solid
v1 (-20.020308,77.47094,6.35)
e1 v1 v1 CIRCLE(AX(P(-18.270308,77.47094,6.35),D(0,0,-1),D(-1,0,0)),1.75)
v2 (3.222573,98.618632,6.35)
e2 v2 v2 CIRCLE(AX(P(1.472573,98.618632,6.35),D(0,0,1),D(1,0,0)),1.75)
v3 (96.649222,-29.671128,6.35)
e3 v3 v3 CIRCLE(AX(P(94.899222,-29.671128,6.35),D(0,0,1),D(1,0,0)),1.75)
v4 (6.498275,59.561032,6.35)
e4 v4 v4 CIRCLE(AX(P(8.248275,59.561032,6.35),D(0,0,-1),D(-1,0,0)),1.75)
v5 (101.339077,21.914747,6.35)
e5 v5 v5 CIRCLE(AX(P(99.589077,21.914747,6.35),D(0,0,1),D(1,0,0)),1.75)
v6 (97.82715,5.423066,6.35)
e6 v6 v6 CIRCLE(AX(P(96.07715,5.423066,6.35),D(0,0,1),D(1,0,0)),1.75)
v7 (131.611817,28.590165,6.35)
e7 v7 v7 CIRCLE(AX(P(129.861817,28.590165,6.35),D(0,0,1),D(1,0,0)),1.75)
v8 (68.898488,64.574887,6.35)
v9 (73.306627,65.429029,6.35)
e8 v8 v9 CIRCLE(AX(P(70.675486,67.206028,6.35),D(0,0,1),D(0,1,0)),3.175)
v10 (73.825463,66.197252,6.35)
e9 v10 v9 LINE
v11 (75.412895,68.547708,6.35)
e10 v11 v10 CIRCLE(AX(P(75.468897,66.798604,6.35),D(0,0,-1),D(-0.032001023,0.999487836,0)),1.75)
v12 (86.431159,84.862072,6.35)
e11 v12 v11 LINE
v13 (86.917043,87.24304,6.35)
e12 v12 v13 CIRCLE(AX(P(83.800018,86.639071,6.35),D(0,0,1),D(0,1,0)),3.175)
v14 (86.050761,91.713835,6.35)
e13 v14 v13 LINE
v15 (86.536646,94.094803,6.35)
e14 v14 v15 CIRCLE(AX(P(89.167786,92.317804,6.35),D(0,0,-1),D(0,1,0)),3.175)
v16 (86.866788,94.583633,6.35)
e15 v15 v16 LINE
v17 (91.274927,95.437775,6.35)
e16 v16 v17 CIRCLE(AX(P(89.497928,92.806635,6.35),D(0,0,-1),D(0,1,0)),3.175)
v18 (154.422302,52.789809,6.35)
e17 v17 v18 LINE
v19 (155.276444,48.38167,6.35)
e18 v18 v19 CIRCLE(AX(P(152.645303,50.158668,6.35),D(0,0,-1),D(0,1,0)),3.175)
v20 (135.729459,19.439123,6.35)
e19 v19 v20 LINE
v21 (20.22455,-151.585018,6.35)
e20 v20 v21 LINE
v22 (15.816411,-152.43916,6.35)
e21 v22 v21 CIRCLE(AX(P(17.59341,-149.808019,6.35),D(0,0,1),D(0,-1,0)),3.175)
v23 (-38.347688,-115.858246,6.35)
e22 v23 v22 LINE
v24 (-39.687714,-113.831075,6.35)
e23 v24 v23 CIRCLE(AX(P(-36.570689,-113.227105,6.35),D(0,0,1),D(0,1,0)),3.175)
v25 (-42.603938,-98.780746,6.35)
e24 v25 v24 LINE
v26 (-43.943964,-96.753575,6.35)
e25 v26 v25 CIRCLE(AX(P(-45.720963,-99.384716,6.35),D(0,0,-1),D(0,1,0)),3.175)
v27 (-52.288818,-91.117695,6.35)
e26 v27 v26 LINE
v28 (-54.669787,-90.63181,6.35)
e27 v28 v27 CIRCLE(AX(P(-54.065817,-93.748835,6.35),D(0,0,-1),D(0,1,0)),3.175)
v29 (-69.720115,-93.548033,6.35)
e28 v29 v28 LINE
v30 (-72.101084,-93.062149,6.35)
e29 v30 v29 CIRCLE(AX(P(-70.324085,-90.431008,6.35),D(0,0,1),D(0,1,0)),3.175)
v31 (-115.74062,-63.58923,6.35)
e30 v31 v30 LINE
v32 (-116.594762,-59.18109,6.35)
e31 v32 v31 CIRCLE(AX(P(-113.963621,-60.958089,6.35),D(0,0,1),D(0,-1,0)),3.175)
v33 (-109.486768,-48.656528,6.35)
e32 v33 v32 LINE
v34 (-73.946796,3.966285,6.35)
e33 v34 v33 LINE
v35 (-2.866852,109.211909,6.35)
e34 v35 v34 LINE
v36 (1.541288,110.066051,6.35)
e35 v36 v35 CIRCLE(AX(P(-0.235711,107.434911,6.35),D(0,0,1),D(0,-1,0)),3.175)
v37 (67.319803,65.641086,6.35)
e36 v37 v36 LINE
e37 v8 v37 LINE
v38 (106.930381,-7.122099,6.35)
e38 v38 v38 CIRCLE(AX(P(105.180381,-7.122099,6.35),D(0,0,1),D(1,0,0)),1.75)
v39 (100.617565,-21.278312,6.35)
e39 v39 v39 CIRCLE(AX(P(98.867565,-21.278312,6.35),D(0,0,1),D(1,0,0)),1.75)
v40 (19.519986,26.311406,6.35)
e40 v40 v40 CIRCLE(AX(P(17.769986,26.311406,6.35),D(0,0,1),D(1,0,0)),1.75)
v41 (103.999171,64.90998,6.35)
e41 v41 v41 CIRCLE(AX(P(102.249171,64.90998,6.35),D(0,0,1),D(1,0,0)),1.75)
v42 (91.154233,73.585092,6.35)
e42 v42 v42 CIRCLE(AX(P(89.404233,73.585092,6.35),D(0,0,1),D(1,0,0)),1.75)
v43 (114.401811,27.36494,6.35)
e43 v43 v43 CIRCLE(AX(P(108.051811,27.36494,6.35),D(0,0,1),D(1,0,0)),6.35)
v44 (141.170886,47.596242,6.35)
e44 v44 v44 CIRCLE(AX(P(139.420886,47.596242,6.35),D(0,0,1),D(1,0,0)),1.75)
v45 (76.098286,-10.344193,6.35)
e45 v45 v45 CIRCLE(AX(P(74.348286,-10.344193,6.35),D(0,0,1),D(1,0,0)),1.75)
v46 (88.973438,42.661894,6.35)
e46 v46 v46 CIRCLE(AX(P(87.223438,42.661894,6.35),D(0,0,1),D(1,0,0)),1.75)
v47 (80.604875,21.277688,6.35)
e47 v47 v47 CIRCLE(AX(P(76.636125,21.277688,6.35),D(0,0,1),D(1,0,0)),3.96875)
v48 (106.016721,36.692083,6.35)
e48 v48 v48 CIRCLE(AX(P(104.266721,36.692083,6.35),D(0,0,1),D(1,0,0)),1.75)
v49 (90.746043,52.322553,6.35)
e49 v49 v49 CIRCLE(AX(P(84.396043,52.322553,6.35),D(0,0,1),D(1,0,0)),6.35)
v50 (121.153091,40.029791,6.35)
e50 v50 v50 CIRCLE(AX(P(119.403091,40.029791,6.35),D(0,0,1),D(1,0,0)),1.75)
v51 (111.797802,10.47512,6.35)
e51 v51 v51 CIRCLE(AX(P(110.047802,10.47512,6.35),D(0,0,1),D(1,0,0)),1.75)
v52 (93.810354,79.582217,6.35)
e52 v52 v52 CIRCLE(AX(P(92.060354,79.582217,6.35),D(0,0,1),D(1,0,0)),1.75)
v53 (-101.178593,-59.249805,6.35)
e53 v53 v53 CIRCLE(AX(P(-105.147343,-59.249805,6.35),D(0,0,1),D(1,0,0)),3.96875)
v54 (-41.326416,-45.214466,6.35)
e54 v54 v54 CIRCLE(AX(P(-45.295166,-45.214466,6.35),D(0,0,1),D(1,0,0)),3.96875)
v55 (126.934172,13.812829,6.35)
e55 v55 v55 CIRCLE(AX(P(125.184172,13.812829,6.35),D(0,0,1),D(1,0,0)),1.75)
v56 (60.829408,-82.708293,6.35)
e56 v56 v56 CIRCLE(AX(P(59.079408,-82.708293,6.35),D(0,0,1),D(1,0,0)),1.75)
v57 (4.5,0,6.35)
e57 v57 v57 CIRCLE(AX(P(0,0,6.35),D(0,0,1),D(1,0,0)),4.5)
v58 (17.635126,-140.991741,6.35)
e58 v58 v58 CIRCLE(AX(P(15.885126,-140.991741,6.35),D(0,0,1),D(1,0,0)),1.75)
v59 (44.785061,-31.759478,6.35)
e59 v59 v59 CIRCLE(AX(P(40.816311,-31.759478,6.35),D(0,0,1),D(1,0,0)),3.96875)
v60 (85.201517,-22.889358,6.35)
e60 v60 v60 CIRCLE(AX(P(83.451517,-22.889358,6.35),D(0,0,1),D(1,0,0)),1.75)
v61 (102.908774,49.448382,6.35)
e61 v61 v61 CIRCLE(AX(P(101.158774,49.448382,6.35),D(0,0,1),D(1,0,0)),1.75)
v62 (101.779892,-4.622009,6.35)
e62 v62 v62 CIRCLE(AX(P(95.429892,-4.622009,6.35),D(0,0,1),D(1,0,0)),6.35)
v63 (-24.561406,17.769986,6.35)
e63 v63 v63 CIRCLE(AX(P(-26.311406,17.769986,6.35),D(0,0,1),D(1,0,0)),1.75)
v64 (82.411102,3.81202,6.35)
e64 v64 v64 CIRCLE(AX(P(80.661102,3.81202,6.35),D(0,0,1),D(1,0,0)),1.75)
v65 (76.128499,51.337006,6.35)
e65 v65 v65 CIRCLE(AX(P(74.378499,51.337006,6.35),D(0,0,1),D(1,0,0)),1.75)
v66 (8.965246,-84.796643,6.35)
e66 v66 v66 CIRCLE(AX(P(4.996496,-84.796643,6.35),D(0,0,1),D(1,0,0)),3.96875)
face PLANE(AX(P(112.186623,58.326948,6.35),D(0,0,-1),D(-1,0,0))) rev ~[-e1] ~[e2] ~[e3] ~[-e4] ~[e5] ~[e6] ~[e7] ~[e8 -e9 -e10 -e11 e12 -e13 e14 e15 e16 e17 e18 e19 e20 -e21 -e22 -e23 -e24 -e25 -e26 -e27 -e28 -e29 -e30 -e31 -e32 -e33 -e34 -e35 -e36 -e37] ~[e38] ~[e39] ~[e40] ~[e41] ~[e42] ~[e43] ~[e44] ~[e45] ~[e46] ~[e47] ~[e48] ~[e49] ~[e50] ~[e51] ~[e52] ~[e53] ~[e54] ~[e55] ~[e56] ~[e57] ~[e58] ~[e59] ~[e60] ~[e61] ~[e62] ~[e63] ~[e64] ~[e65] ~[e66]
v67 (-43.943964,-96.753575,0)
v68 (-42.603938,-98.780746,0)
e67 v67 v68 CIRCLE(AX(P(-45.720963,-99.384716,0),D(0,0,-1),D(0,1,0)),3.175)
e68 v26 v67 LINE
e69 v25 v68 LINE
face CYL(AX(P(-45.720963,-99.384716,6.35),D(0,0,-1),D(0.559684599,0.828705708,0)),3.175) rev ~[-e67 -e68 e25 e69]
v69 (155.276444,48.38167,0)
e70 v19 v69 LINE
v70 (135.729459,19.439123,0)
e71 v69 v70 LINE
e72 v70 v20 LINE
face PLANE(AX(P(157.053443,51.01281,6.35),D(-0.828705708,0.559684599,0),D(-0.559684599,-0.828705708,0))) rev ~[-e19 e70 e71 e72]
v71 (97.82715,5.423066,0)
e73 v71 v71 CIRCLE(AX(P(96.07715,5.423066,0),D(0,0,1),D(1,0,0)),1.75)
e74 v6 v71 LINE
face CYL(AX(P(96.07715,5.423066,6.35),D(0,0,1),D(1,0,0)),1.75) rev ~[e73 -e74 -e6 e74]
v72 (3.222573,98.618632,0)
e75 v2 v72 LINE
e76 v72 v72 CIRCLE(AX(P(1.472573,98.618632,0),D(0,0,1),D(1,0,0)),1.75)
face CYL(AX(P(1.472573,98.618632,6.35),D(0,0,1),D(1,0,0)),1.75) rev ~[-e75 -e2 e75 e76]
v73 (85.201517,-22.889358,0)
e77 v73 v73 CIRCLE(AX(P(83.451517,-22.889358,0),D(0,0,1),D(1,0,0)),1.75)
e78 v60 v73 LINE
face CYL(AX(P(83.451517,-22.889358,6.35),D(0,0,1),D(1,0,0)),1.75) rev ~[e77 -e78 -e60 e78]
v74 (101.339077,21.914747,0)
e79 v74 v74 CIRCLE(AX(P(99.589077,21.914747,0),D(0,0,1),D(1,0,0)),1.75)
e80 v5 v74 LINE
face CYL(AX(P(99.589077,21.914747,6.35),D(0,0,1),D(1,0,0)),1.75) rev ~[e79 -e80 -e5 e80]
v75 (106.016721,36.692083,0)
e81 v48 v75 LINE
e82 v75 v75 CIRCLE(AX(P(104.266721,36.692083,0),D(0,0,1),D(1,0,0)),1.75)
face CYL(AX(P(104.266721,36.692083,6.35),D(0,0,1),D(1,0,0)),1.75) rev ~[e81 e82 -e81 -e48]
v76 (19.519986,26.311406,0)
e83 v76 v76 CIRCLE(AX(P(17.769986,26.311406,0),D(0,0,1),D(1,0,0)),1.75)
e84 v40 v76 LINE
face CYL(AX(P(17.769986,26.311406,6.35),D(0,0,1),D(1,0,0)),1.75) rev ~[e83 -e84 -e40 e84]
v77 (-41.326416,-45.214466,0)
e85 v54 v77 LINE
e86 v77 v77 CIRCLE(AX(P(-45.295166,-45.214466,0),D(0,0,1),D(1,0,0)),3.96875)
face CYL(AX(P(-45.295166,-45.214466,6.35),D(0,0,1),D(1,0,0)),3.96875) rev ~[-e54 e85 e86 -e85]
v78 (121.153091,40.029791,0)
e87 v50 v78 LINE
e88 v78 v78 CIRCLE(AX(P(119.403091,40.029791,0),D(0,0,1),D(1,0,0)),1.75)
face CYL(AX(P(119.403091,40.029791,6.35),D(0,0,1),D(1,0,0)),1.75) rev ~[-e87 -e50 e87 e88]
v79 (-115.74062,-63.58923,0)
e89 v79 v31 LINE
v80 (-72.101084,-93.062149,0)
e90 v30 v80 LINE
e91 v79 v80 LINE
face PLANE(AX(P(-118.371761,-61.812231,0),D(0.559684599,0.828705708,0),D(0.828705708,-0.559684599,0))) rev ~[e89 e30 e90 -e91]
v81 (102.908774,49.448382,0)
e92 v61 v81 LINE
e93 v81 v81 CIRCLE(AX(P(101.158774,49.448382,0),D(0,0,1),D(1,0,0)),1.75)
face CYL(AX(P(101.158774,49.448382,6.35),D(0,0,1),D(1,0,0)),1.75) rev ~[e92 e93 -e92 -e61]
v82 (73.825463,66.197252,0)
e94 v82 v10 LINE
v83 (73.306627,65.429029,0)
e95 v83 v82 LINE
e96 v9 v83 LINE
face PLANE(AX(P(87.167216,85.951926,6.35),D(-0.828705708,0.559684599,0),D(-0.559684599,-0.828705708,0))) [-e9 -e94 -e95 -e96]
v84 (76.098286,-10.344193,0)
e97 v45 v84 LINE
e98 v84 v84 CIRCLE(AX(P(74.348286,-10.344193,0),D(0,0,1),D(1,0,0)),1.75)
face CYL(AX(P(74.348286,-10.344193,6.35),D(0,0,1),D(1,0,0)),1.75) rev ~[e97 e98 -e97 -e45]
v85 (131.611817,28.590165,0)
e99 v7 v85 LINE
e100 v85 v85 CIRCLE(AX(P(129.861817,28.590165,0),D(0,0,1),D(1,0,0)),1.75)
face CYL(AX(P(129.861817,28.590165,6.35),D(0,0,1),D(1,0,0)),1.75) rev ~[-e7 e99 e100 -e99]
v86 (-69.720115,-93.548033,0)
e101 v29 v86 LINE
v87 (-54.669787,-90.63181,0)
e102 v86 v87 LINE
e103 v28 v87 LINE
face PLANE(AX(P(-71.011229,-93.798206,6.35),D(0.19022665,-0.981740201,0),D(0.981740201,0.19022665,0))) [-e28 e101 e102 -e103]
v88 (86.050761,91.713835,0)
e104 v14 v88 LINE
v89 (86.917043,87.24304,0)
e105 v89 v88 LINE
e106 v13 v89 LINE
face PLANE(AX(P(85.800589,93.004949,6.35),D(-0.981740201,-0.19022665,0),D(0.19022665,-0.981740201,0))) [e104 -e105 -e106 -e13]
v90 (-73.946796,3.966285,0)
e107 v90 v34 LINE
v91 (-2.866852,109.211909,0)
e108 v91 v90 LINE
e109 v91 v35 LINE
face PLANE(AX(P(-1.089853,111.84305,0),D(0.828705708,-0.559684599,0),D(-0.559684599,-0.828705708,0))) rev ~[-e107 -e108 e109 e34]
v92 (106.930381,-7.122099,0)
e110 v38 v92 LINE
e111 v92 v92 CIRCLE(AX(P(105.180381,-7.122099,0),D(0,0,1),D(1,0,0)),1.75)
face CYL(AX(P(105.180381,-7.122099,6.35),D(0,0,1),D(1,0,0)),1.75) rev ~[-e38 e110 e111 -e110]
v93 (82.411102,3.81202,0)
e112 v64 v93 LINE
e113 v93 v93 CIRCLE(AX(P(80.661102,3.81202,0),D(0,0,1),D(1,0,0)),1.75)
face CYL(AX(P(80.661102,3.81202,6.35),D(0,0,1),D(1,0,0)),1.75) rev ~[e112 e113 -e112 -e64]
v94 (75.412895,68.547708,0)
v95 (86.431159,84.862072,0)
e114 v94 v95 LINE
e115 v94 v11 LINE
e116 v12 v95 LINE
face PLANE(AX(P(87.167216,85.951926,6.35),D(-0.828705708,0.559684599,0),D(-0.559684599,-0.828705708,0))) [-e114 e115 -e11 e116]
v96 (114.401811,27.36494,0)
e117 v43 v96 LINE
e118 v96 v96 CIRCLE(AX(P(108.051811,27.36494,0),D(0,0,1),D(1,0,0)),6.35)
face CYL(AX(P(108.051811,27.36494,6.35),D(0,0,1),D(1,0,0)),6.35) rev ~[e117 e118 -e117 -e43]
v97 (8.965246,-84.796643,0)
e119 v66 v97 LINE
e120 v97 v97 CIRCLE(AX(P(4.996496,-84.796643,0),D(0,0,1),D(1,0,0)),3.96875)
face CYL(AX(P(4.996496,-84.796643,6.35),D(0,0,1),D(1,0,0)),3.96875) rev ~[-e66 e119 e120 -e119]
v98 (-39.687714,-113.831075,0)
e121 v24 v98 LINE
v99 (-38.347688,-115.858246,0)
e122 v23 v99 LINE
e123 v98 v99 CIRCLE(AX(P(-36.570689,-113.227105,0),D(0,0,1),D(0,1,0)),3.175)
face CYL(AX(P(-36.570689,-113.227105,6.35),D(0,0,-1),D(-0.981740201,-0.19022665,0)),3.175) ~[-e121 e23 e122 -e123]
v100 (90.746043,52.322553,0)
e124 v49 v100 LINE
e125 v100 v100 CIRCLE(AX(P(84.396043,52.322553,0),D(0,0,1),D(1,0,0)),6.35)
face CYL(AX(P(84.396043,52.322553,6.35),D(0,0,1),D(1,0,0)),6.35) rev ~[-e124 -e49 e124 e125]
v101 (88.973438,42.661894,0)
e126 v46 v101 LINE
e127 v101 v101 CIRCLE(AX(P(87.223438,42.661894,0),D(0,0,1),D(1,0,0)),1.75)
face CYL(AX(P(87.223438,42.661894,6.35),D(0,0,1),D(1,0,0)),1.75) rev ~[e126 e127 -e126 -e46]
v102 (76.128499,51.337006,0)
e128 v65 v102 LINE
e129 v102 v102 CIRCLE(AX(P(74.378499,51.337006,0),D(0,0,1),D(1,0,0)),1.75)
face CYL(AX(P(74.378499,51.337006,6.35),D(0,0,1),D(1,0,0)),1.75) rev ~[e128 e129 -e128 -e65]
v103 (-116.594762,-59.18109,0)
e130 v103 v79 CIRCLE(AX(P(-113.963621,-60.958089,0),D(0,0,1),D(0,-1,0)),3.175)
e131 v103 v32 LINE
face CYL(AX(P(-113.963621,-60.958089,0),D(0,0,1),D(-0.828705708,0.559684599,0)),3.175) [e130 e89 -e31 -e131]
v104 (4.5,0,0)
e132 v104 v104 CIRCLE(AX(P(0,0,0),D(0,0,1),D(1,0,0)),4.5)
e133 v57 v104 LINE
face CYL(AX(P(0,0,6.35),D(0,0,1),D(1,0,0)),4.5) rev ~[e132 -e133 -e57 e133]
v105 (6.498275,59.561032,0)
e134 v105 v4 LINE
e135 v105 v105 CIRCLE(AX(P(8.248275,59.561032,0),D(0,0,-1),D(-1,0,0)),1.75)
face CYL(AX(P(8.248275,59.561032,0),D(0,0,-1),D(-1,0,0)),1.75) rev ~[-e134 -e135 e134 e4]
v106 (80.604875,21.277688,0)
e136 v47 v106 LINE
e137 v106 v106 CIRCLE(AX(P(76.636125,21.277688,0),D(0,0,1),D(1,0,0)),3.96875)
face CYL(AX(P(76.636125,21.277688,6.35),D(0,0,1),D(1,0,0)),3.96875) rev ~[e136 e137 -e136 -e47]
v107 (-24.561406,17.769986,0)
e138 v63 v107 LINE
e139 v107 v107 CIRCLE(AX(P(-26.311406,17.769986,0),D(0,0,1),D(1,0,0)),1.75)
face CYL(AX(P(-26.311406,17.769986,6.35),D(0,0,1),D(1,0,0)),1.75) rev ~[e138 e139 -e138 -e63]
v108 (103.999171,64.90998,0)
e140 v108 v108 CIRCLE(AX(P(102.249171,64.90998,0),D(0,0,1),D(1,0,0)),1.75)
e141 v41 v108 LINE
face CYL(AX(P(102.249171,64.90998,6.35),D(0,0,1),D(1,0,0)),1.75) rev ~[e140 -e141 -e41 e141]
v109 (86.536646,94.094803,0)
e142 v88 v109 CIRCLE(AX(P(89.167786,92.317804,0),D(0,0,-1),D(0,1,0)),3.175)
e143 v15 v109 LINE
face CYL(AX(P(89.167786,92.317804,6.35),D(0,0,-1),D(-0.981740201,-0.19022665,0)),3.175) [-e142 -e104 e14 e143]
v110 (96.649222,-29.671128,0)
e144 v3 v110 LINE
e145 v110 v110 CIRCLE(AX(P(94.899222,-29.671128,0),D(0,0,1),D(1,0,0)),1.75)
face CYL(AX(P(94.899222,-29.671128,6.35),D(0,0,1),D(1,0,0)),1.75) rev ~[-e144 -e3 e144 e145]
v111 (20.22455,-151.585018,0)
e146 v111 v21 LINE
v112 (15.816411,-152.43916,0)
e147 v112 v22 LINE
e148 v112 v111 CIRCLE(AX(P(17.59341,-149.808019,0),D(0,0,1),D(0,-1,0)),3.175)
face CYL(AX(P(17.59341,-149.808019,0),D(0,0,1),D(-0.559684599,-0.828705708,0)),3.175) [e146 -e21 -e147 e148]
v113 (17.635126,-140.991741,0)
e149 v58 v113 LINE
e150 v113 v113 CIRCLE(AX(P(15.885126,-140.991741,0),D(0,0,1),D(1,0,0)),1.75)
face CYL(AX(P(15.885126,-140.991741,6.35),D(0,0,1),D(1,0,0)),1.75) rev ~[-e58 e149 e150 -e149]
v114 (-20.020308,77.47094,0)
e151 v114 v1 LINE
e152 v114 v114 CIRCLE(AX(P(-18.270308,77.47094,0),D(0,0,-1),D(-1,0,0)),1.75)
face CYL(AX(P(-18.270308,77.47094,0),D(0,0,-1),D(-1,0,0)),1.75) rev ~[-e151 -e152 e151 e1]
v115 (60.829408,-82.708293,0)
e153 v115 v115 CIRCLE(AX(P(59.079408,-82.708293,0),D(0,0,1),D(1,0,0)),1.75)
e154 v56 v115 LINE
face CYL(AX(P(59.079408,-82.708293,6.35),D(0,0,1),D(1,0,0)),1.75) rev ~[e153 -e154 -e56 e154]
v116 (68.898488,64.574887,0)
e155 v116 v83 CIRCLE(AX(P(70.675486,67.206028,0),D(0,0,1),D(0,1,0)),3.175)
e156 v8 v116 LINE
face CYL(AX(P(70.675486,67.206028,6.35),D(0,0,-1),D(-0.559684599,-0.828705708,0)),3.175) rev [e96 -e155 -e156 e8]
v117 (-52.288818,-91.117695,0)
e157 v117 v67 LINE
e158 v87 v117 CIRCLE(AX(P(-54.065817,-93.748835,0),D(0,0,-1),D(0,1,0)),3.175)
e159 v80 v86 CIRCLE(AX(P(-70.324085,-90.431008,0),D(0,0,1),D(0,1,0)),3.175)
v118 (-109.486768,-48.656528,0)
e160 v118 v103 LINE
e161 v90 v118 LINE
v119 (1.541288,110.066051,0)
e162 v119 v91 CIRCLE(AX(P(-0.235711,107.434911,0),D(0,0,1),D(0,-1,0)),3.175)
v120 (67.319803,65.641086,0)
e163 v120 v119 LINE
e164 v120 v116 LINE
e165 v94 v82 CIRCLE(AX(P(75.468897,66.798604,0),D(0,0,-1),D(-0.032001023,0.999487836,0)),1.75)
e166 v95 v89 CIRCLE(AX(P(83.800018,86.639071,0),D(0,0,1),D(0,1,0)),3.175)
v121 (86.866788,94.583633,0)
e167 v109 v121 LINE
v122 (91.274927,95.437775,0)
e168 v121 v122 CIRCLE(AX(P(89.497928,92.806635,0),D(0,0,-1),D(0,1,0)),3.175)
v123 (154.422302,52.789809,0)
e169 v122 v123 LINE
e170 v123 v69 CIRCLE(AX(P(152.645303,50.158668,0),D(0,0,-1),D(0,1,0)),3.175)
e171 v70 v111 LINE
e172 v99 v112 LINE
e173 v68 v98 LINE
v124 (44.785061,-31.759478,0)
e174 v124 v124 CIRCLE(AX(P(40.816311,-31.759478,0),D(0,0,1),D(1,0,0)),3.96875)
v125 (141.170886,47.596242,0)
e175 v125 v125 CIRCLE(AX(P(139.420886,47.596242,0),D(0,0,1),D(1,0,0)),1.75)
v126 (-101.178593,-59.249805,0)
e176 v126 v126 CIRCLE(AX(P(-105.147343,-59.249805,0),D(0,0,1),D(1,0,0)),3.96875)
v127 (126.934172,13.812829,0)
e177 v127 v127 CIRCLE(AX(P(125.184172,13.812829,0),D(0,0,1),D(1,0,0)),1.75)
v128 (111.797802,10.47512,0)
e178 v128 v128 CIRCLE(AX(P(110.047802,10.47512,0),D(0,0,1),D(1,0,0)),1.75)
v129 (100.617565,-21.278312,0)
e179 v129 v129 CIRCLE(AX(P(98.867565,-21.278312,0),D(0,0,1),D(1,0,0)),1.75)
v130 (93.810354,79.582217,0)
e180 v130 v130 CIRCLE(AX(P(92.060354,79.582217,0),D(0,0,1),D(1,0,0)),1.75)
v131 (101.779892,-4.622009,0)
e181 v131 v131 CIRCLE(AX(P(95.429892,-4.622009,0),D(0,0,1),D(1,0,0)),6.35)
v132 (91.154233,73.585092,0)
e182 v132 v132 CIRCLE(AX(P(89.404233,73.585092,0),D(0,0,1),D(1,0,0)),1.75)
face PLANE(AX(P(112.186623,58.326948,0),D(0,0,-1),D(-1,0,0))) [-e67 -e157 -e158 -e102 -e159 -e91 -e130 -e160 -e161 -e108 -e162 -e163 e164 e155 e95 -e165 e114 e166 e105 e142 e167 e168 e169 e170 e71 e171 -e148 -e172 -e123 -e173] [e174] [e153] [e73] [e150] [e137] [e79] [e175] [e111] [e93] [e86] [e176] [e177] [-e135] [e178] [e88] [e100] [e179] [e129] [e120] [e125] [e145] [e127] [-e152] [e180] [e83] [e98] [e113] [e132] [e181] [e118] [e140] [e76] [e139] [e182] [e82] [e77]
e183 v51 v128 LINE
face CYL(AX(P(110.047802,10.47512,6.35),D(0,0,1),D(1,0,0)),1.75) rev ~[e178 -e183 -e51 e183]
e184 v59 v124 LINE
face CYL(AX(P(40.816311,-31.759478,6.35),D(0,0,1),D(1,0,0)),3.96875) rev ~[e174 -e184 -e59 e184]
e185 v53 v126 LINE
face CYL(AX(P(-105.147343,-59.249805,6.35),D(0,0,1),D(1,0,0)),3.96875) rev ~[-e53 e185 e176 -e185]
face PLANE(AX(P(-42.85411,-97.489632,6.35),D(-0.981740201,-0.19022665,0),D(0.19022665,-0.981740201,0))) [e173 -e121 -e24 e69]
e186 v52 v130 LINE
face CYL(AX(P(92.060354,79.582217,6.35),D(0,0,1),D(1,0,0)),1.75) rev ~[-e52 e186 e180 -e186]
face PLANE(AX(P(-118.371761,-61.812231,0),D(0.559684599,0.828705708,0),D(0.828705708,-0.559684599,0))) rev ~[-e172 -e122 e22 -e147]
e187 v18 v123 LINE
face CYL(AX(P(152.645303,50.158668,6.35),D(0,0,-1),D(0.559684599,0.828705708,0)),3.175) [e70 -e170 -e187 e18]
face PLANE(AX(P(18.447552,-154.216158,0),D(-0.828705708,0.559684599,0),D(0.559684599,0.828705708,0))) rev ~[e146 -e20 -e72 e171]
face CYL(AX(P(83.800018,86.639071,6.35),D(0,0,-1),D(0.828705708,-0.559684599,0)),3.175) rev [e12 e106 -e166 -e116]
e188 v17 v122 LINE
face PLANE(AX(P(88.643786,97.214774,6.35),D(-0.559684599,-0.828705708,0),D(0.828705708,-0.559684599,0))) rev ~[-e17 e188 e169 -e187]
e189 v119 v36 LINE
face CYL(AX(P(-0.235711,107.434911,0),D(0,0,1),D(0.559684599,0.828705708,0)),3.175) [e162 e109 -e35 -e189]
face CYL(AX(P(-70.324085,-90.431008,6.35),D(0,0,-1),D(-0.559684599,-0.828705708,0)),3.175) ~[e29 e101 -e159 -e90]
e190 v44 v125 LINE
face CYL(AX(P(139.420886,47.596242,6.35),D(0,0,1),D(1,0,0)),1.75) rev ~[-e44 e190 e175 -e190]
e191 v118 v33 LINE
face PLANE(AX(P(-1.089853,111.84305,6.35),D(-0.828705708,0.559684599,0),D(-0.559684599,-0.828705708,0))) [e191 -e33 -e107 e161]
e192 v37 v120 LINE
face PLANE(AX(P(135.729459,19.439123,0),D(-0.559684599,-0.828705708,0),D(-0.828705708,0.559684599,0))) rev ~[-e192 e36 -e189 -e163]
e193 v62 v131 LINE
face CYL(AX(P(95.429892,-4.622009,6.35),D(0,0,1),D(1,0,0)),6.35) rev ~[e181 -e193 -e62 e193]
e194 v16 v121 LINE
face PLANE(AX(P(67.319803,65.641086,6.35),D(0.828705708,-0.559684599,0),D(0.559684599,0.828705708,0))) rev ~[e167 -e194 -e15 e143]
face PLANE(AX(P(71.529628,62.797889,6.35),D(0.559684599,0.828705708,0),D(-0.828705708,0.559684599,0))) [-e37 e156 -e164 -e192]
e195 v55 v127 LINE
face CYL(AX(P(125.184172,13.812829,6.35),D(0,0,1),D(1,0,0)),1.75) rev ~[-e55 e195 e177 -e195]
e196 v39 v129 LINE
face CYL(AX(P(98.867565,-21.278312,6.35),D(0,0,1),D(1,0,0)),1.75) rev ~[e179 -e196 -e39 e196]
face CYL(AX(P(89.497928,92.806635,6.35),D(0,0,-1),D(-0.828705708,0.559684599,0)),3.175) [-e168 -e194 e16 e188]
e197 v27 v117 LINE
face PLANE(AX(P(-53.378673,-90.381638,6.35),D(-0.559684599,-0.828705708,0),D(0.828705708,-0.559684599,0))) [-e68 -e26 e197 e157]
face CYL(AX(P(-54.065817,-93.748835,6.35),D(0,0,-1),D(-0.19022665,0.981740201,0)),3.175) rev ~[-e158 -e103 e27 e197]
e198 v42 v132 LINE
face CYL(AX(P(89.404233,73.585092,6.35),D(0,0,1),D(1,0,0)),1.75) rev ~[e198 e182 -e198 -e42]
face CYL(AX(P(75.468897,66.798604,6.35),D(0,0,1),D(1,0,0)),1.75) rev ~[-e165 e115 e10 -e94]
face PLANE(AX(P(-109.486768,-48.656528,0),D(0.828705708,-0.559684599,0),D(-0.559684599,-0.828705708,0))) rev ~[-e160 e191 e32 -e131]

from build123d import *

# Parameters (mm, degrees)
BOSS_EXTRUDE2_DEPTH = 6.35
CUT_EXTRUDE1_DEPTH  = 7.3500001
BOSS_EXTRUDE3_DEPTH = 6.35
SKETCH10_R          = 3.96875
CUT_EXTRUDE2_DEPTH  = 7.35
SKETCH11_R          = 4.5
CUT_EXTRUDE4_DEPTH  = 7.35
BOSS_EXTRUDE4_DEPTH = 6.35
SKETCH13_R          = 1.75
CUT_EXTRUDE5_DEPTH  = 7.35
LPATTERN1_COUNT     = 2
LPATTERN1_PITCH     = 64
SKETCH15_R          = 1.75
CUT_EXTRUDE7_DEPTH  = 7.35
SKETCH16_R          = 1.75
CUT_EXTRUDE8_DEPTH  = 7.35
SKETCH17_R          = 1.75
CUT_EXTRUDE9_DEPTH  = 7.35
SKETCH18_R          = 1.75
SKETCH18_R_2        = 6.35
CUT_EXTRUDE10_DEPTH = 7.35
SKETCH19_R          = 3.96875
CUT_EXTRUDE11_DEPTH = 7.35
SKETCH20_R          = 3.96875
CUT_EXTRUDE12_DEPTH = 7.35
SKETCH21_R          = 5.677654576
BOSS_EXTRUDE5_DEPTH = 6.35
CUT_EXTRUDE13_DEPTH = 7.35
SKETCH23_R          = 1.75
CUT_EXTRUDE14_DEPTH = 7.35
FILLET1_R           = 3.175


with BuildPart() as part:
    # Sketch6 → Boss-Extrude2 (new body)
    with BuildSketch(Plane.XY):
        with BuildLine():
            Line((-68.006850091, -76.67090114), (-109.486767671, -48.656527855))
            Line((-109.486767671, -48.656527855), (-118.371760678, -61.812230963))
            Line((-118.371760678, -61.812230963), (18.447551645, -154.216158235))
            Line((18.447551645, -154.216158235), (135.729459338, 19.43912279))
            Line((135.729459338, 19.43912279), (-1.089852986, 111.843050063))
            Line((-1.089852986, 111.843050063), (-73.946795643, 3.966284577))
            Line((-73.946795643, 3.966284577), (-56.624438948, -7.732749433))
            ThreePointArc((-56.624438948, -7.732749433), (-43.058385537, 37.577891571), (0, 57.15))
            ThreePointArc((0, 57.15), (56.404848571, 31.095576642), (70.829334649, -29.338471048))
            add(Edge.make_bspline(
                [(70.829334649, -29.338471048), (70.811686062, -29.418295928), (70.776015112, -29.578104383), (70.713320217, -29.85478305), (70.619021771, -30.262929245), (70.501052001, -30.762086912), (70.364034474, -31.322191481), (70.199318515, -31.970958926), (70.000453855, -32.723919765), (69.795103485, -33.469783355), (69.582015398, -34.214296028), (69.361377803, -34.956693289), (69.133257682, -35.696762218), (68.838782679, -36.61892651), (68.470566207, -37.720710028), (68.019498024, -38.998776477), (67.474836154, -40.448808619), (66.901337925, -41.887676852), (66.299328392, -43.31485223), (65.669141732, -44.729810424), (65.011119088, -46.132040323), (64.325609411, -47.52103904), (63.612968547, -48.896314904), (62.87355937, -50.257385735), (62.107751613, -51.603779381), (61.315921169, -52.935034173), (60.49845004, -54.250698756), (59.655726138, -55.550331897), (58.571247582, -57.154294757), (57.220953058, -59.045283389), (55.576035723, -61.200397094), (53.604026134, -63.590264702), (51.54329346, -65.904053004), (49.39728314, -68.138962994), (47.169496434, -70.29235602), (44.863486103, -72.361752995), (42.482847363, -74.344831806), (40.031215607, -76.239428526), (36.882516177, -78.494556171), (32.976808929, -81.016011003), (28.250788286, -83.68089187), (21.41551215, -86.919136497), (14.30829026, -89.526654921), (6.996956895, -91.488176442), (-0.451922312, -92.797413176), (-6.61686174, -93.456358442), (-12.81195397, -93.702029749), (-19.009644204, -93.537285056), (-25.183124422, -92.966685286), (-31.306438312, -91.996382122), (-36.598524037, -90.804323442), (-41.072542301, -89.543185606), (-44.752319298, -88.33589156), (-47.664184976, -87.27761875), (-50.541347258, -86.128353728), (-53.381128552, -84.889612663), (-56.180924218, -83.562977818), (-58.593536599, -82.326710176), (-60.633378351, -81.214215821), (-62.313751085, -80.252471782), (-63.646071553, -79.462491566), (-64.966093336, -78.652178853), (-66.222359154, -77.854259082), (-67.143044791, -77.250601571), (-67.736251212, -76.85365602), (-68.006850091, -76.67090114)],
                knots=[0.071020771, 0.071020771, 0.071020771, 0.071020771, 0.071020771, 0.072848477, 0.074676184, 0.07650389, 0.078331597, 0.08198701, 0.085642423, 0.089297836, 0.092953249, 0.096608662, 0.100264075, 0.103919488, 0.107574901, 0.114885727, 0.122196554, 0.12950738, 0.136818214, 0.144129048, 0.151439882, 0.158750716, 0.166061558, 0.173372401, 0.180683243, 0.187994085, 0.195304924, 0.202615763, 0.209926602, 0.217237441, 0.231859103, 0.246480766, 0.261102426, 0.275724085, 0.290345754, 0.304967424, 0.319589099, 0.334210774, 0.348832457, 0.36345414, 0.392697464, 0.421940789, 0.451184112, 0.506140643, 0.535383973, 0.564627303, 0.593870641, 0.623113979, 0.652357319, 0.68160066, 0.710843985, 0.740087309, 0.754708984, 0.769330659, 0.783952333, 0.798574008, 0.813195669, 0.82781733, 0.842438991, 0.849749821, 0.857060652, 0.86437149, 0.871682327, 0.878993165, 0.885158103, 0.885158103, 0.885158103, 0.885158103, 0.885158103], degree=4))
        make_face()
    extrude(amount=BOSS_EXTRUDE2_DEPTH)

    # Sketch8 → Cut-Extrude1 (cut, through all)
    with BuildSketch(Plane.XY.offset(6.35)):
        Polygon((-71.011229489, -93.798205788), (-53.378672597, -90.381637707), (-42.854110111, -97.489632113), (-39.43754203, -115.122189004), align=None)
    extrude(amount=-CUT_EXTRUDE1_DEPTH, mode=Mode.SUBTRACT)

    # Sketch9 → Boss-Extrude3 (add, through all)
    with BuildSketch(Plane.XY.offset(6.35)):
        Polygon((-1.089852986, 111.843050063), (-109.486767671, -48.656527855), (27.332544652, -141.060455127), (135.729459338, 19.43912279), align=None)
    extrude(amount=-BOSS_EXTRUDE3_DEPTH)

    # Sketch10 → Cut-Extrude2 (cut, through all)
    with BuildSketch(Plane.XY.offset(6.35)):
        with Locations((4.996496209, -84.796642912)):
            Circle(SKETCH10_R)
        with Locations((40.816310536, -31.759477627)):
            Circle(SKETCH10_R)
        with Locations((76.636124864, 21.277687659)):
            Circle(SKETCH10_R)
        with Locations((-45.295165913, -45.214466102)):
            Circle(SKETCH10_R)
    extrude(amount=-CUT_EXTRUDE2_DEPTH, mode=Mode.SUBTRACT)

    # Sketch11 → Cut-Extrude4 (cut, through all)
    with BuildSketch(Plane.XY.offset(6.35)):
        Circle(SKETCH11_R)
    extrude(amount=-CUT_EXTRUDE4_DEPTH, mode=Mode.SUBTRACT)

    # Sketch12 → Boss-Extrude4 (add, through all)
    with BuildSketch(Plane.XY.offset(6.35)):
        Polygon((135.729459338, 19.43912279), (67.319803176, 65.641086427), (88.643786393, 97.214773886), (157.053442554, 51.01281025), align=None)
    extrude(amount=-BOSS_EXTRUDE4_DEPTH)

    # Sketch13 → Cut-Extrude5 (cut, through all)
    with BuildSketch(Plane.XY.offset(6.35)):
        with Locations((94.899221836, -29.671127724)):
            Circle(SKETCH13_R)
    cut_extrude5 = extrude(amount=-CUT_EXTRUDE5_DEPTH, mode=Mode.SUBTRACT)

    # LPattern1: Cut-Extrude5 ×2
    with Locations(*[Vector(-0.559684599, -0.828705708, 0) * (i * LPATTERN1_PITCH) for i in range(1, LPATTERN1_COUNT)]):
        add(cut_extrude5, mode=Mode.SUBTRACT)

    # Sketch15 → Cut-Extrude7 (cut, through all)
    with BuildSketch(Plane.XY.offset(6.35)):
        with Locations((-105.147343009, -59.249804902)):
            Circle(SKETCH15_R)
        with Locations((15.885125585, -140.991740566)):
            Circle(SKETCH15_R)
        with Locations((1.472573075, 98.618632394)):
            Circle(SKETCH15_R)
    extrude(amount=-CUT_EXTRUDE7_DEPTH, mode=Mode.SUBTRACT)

    # Sketch16 → Cut-Extrude8 (cut, through all)
    with BuildSketch(Plane.XY.offset(6.35)):
        with Locations((92.060354474, 79.582216994)):
            Circle(SKETCH16_R)
        with Locations((139.420885662, 47.596242169)):
            Circle(SKETCH16_R)
    extrude(amount=-CUT_EXTRUDE8_DEPTH, mode=Mode.SUBTRACT)

    # Sketch17 → Cut-Extrude9 (cut, through all)
    with BuildSketch(Plane.XY.offset(6.35)):
        with Locations((-26.311406216, 17.769986014)):
            Circle(SKETCH17_R)
        with Locations((17.769986014, 26.311406216)):
            Circle(SKETCH17_R)
    extrude(amount=-CUT_EXTRUDE9_DEPTH, mode=Mode.SUBTRACT)

    # Sketch18 → Cut-Extrude10 (cut, through all)
    with BuildSketch(Plane.XY.offset(6.35)):
        with Locations((75.468896753, 66.798604333)):
            Circle(SKETCH18_R)
        with Locations((74.378499235, 51.337005669)):
            Circle(SKETCH18_R)
        with Locations((87.223437703, 42.661894386)):
            Circle(SKETCH18_R)
        with Locations((101.158773688, 49.448381768)):
            Circle(SKETCH18_R)
        with Locations((102.249171205, 64.909980432)):
            Circle(SKETCH18_R)
        with Locations((89.404232738, 73.585091715)):
            Circle(SKETCH18_R)
        with Locations((99.589076537, 21.914747078)):
            Circle(SKETCH18_R)
        with Locations((104.266720973, 36.692082512)):
            Circle(SKETCH18_R)
        with Locations((119.403091077, 40.029791318)):
            Circle(SKETCH18_R)
        with Locations((129.861816745, 28.59016469)):
            Circle(SKETCH18_R)
        with Locations((125.18417231, 13.812829255)):
            Circle(SKETCH18_R)
        with Locations((110.047802206, 10.47512045)):
            Circle(SKETCH18_R)
        with Locations((105.180381325, -7.122099496)):
            Circle(SKETCH18_R)
        with Locations((96.077150237, 5.423066257)):
            Circle(SKETCH18_R)
        with Locations((80.661102457, 3.812019754)):
            Circle(SKETCH18_R)
        with Locations((74.348285765, -10.344192501)):
            Circle(SKETCH18_R)
        with Locations((83.451516853, -22.889358254)):
            Circle(SKETCH18_R)
        with Locations((98.867564633, -21.278311751)):
            Circle(SKETCH18_R)
        with Locations((84.396043028, 52.322553097)):
            Circle(SKETCH18_R_2)
        with Locations((108.051811284, 27.364940468)):
            Circle(SKETCH18_R_2)
        with Locations((95.429892272, -4.622009378)):
            Circle(SKETCH18_R_2)
    extrude(amount=-CUT_EXTRUDE10_DEPTH, mode=Mode.SUBTRACT)

    # Sketch19 → Cut-Extrude11 (cut, through all)
    with BuildSketch(Plane.XY.offset(6.35)):
        with Locations((-65.680233685, -85.904783923)):
            Circle(SKETCH19_R)
    extrude(amount=-CUT_EXTRUDE11_DEPTH, mode=Mode.SUBTRACT)

    # Sketch20 → Cut-Extrude12 (cut, through all)
    with BuildSketch(Plane.XY.offset(6.35)):
        with Locations((-105.147343009, -59.249804902)):
            Circle(SKETCH20_R)
    extrude(amount=-CUT_EXTRUDE12_DEPTH, mode=Mode.SUBTRACT)

    # Sketch21 → Boss-Extrude5 (add, through all)
    with BuildSketch(Plane.XY.offset(6.35)):
        with Locations((-65.680233685, -85.904783923)):
            Circle(SKETCH21_R)
    extrude(amount=-BOSS_EXTRUDE5_DEPTH)

    # Sketch22 → Cut-Extrude13 (cut, through all)
    with BuildSketch(Plane.XY.offset(6.35)):
        Polygon((85.800588631, 93.004948891), (87.167215863, 85.951926135), (71.529628171, 62.797888664), (67.319803176, 65.641086427), align=None)
    extrude(amount=-CUT_EXTRUDE13_DEPTH, mode=Mode.SUBTRACT)

    # Sketch23 → Cut-Extrude14 (cut, through all)
    with BuildSketch(Plane(origin=(0, 0, 0), x_dir=(-1, 0, 0), z_dir=(0, 0, -1))):
        with Locations((-8.248274978, 59.561032446)):
            Circle(SKETCH23_R)
        with Locations((18.270307664, 77.470939609)):
            Circle(SKETCH23_R)
    extrude(amount=-CUT_EXTRUDE14_DEPTH, mode=Mode.SUBTRACT)

    # Fillet1
    fillet1_edges = [part.edges().sort_by_distance(p)[0] for p in [
        (-1.089852986, 111.843050063, 3.175),
        (18.447551645, -154.216158235, 3.175),
        (-118.371760678, -61.812230963, 3.175),
        (87.167215863, 85.951926135, 3.175),
        (85.800588631, 93.004948891, 3.175),
        (71.529628171, 62.797888664, 3.175),
        (-39.43754203, -115.122189004, 3.175),
        (-71.011229489, -93.798205788, 3.175),
        (-53.378672597, -90.381637707, 3.175),
        (-42.854110111, -97.489632113, 3.175),
        (157.053442554, 51.01281025, 3.175),
        (88.643786393, 97.214773886, 3.175),
    ]]
    fillet(fillet1_edges, radius=FILLET1_R)


solid = part.part
